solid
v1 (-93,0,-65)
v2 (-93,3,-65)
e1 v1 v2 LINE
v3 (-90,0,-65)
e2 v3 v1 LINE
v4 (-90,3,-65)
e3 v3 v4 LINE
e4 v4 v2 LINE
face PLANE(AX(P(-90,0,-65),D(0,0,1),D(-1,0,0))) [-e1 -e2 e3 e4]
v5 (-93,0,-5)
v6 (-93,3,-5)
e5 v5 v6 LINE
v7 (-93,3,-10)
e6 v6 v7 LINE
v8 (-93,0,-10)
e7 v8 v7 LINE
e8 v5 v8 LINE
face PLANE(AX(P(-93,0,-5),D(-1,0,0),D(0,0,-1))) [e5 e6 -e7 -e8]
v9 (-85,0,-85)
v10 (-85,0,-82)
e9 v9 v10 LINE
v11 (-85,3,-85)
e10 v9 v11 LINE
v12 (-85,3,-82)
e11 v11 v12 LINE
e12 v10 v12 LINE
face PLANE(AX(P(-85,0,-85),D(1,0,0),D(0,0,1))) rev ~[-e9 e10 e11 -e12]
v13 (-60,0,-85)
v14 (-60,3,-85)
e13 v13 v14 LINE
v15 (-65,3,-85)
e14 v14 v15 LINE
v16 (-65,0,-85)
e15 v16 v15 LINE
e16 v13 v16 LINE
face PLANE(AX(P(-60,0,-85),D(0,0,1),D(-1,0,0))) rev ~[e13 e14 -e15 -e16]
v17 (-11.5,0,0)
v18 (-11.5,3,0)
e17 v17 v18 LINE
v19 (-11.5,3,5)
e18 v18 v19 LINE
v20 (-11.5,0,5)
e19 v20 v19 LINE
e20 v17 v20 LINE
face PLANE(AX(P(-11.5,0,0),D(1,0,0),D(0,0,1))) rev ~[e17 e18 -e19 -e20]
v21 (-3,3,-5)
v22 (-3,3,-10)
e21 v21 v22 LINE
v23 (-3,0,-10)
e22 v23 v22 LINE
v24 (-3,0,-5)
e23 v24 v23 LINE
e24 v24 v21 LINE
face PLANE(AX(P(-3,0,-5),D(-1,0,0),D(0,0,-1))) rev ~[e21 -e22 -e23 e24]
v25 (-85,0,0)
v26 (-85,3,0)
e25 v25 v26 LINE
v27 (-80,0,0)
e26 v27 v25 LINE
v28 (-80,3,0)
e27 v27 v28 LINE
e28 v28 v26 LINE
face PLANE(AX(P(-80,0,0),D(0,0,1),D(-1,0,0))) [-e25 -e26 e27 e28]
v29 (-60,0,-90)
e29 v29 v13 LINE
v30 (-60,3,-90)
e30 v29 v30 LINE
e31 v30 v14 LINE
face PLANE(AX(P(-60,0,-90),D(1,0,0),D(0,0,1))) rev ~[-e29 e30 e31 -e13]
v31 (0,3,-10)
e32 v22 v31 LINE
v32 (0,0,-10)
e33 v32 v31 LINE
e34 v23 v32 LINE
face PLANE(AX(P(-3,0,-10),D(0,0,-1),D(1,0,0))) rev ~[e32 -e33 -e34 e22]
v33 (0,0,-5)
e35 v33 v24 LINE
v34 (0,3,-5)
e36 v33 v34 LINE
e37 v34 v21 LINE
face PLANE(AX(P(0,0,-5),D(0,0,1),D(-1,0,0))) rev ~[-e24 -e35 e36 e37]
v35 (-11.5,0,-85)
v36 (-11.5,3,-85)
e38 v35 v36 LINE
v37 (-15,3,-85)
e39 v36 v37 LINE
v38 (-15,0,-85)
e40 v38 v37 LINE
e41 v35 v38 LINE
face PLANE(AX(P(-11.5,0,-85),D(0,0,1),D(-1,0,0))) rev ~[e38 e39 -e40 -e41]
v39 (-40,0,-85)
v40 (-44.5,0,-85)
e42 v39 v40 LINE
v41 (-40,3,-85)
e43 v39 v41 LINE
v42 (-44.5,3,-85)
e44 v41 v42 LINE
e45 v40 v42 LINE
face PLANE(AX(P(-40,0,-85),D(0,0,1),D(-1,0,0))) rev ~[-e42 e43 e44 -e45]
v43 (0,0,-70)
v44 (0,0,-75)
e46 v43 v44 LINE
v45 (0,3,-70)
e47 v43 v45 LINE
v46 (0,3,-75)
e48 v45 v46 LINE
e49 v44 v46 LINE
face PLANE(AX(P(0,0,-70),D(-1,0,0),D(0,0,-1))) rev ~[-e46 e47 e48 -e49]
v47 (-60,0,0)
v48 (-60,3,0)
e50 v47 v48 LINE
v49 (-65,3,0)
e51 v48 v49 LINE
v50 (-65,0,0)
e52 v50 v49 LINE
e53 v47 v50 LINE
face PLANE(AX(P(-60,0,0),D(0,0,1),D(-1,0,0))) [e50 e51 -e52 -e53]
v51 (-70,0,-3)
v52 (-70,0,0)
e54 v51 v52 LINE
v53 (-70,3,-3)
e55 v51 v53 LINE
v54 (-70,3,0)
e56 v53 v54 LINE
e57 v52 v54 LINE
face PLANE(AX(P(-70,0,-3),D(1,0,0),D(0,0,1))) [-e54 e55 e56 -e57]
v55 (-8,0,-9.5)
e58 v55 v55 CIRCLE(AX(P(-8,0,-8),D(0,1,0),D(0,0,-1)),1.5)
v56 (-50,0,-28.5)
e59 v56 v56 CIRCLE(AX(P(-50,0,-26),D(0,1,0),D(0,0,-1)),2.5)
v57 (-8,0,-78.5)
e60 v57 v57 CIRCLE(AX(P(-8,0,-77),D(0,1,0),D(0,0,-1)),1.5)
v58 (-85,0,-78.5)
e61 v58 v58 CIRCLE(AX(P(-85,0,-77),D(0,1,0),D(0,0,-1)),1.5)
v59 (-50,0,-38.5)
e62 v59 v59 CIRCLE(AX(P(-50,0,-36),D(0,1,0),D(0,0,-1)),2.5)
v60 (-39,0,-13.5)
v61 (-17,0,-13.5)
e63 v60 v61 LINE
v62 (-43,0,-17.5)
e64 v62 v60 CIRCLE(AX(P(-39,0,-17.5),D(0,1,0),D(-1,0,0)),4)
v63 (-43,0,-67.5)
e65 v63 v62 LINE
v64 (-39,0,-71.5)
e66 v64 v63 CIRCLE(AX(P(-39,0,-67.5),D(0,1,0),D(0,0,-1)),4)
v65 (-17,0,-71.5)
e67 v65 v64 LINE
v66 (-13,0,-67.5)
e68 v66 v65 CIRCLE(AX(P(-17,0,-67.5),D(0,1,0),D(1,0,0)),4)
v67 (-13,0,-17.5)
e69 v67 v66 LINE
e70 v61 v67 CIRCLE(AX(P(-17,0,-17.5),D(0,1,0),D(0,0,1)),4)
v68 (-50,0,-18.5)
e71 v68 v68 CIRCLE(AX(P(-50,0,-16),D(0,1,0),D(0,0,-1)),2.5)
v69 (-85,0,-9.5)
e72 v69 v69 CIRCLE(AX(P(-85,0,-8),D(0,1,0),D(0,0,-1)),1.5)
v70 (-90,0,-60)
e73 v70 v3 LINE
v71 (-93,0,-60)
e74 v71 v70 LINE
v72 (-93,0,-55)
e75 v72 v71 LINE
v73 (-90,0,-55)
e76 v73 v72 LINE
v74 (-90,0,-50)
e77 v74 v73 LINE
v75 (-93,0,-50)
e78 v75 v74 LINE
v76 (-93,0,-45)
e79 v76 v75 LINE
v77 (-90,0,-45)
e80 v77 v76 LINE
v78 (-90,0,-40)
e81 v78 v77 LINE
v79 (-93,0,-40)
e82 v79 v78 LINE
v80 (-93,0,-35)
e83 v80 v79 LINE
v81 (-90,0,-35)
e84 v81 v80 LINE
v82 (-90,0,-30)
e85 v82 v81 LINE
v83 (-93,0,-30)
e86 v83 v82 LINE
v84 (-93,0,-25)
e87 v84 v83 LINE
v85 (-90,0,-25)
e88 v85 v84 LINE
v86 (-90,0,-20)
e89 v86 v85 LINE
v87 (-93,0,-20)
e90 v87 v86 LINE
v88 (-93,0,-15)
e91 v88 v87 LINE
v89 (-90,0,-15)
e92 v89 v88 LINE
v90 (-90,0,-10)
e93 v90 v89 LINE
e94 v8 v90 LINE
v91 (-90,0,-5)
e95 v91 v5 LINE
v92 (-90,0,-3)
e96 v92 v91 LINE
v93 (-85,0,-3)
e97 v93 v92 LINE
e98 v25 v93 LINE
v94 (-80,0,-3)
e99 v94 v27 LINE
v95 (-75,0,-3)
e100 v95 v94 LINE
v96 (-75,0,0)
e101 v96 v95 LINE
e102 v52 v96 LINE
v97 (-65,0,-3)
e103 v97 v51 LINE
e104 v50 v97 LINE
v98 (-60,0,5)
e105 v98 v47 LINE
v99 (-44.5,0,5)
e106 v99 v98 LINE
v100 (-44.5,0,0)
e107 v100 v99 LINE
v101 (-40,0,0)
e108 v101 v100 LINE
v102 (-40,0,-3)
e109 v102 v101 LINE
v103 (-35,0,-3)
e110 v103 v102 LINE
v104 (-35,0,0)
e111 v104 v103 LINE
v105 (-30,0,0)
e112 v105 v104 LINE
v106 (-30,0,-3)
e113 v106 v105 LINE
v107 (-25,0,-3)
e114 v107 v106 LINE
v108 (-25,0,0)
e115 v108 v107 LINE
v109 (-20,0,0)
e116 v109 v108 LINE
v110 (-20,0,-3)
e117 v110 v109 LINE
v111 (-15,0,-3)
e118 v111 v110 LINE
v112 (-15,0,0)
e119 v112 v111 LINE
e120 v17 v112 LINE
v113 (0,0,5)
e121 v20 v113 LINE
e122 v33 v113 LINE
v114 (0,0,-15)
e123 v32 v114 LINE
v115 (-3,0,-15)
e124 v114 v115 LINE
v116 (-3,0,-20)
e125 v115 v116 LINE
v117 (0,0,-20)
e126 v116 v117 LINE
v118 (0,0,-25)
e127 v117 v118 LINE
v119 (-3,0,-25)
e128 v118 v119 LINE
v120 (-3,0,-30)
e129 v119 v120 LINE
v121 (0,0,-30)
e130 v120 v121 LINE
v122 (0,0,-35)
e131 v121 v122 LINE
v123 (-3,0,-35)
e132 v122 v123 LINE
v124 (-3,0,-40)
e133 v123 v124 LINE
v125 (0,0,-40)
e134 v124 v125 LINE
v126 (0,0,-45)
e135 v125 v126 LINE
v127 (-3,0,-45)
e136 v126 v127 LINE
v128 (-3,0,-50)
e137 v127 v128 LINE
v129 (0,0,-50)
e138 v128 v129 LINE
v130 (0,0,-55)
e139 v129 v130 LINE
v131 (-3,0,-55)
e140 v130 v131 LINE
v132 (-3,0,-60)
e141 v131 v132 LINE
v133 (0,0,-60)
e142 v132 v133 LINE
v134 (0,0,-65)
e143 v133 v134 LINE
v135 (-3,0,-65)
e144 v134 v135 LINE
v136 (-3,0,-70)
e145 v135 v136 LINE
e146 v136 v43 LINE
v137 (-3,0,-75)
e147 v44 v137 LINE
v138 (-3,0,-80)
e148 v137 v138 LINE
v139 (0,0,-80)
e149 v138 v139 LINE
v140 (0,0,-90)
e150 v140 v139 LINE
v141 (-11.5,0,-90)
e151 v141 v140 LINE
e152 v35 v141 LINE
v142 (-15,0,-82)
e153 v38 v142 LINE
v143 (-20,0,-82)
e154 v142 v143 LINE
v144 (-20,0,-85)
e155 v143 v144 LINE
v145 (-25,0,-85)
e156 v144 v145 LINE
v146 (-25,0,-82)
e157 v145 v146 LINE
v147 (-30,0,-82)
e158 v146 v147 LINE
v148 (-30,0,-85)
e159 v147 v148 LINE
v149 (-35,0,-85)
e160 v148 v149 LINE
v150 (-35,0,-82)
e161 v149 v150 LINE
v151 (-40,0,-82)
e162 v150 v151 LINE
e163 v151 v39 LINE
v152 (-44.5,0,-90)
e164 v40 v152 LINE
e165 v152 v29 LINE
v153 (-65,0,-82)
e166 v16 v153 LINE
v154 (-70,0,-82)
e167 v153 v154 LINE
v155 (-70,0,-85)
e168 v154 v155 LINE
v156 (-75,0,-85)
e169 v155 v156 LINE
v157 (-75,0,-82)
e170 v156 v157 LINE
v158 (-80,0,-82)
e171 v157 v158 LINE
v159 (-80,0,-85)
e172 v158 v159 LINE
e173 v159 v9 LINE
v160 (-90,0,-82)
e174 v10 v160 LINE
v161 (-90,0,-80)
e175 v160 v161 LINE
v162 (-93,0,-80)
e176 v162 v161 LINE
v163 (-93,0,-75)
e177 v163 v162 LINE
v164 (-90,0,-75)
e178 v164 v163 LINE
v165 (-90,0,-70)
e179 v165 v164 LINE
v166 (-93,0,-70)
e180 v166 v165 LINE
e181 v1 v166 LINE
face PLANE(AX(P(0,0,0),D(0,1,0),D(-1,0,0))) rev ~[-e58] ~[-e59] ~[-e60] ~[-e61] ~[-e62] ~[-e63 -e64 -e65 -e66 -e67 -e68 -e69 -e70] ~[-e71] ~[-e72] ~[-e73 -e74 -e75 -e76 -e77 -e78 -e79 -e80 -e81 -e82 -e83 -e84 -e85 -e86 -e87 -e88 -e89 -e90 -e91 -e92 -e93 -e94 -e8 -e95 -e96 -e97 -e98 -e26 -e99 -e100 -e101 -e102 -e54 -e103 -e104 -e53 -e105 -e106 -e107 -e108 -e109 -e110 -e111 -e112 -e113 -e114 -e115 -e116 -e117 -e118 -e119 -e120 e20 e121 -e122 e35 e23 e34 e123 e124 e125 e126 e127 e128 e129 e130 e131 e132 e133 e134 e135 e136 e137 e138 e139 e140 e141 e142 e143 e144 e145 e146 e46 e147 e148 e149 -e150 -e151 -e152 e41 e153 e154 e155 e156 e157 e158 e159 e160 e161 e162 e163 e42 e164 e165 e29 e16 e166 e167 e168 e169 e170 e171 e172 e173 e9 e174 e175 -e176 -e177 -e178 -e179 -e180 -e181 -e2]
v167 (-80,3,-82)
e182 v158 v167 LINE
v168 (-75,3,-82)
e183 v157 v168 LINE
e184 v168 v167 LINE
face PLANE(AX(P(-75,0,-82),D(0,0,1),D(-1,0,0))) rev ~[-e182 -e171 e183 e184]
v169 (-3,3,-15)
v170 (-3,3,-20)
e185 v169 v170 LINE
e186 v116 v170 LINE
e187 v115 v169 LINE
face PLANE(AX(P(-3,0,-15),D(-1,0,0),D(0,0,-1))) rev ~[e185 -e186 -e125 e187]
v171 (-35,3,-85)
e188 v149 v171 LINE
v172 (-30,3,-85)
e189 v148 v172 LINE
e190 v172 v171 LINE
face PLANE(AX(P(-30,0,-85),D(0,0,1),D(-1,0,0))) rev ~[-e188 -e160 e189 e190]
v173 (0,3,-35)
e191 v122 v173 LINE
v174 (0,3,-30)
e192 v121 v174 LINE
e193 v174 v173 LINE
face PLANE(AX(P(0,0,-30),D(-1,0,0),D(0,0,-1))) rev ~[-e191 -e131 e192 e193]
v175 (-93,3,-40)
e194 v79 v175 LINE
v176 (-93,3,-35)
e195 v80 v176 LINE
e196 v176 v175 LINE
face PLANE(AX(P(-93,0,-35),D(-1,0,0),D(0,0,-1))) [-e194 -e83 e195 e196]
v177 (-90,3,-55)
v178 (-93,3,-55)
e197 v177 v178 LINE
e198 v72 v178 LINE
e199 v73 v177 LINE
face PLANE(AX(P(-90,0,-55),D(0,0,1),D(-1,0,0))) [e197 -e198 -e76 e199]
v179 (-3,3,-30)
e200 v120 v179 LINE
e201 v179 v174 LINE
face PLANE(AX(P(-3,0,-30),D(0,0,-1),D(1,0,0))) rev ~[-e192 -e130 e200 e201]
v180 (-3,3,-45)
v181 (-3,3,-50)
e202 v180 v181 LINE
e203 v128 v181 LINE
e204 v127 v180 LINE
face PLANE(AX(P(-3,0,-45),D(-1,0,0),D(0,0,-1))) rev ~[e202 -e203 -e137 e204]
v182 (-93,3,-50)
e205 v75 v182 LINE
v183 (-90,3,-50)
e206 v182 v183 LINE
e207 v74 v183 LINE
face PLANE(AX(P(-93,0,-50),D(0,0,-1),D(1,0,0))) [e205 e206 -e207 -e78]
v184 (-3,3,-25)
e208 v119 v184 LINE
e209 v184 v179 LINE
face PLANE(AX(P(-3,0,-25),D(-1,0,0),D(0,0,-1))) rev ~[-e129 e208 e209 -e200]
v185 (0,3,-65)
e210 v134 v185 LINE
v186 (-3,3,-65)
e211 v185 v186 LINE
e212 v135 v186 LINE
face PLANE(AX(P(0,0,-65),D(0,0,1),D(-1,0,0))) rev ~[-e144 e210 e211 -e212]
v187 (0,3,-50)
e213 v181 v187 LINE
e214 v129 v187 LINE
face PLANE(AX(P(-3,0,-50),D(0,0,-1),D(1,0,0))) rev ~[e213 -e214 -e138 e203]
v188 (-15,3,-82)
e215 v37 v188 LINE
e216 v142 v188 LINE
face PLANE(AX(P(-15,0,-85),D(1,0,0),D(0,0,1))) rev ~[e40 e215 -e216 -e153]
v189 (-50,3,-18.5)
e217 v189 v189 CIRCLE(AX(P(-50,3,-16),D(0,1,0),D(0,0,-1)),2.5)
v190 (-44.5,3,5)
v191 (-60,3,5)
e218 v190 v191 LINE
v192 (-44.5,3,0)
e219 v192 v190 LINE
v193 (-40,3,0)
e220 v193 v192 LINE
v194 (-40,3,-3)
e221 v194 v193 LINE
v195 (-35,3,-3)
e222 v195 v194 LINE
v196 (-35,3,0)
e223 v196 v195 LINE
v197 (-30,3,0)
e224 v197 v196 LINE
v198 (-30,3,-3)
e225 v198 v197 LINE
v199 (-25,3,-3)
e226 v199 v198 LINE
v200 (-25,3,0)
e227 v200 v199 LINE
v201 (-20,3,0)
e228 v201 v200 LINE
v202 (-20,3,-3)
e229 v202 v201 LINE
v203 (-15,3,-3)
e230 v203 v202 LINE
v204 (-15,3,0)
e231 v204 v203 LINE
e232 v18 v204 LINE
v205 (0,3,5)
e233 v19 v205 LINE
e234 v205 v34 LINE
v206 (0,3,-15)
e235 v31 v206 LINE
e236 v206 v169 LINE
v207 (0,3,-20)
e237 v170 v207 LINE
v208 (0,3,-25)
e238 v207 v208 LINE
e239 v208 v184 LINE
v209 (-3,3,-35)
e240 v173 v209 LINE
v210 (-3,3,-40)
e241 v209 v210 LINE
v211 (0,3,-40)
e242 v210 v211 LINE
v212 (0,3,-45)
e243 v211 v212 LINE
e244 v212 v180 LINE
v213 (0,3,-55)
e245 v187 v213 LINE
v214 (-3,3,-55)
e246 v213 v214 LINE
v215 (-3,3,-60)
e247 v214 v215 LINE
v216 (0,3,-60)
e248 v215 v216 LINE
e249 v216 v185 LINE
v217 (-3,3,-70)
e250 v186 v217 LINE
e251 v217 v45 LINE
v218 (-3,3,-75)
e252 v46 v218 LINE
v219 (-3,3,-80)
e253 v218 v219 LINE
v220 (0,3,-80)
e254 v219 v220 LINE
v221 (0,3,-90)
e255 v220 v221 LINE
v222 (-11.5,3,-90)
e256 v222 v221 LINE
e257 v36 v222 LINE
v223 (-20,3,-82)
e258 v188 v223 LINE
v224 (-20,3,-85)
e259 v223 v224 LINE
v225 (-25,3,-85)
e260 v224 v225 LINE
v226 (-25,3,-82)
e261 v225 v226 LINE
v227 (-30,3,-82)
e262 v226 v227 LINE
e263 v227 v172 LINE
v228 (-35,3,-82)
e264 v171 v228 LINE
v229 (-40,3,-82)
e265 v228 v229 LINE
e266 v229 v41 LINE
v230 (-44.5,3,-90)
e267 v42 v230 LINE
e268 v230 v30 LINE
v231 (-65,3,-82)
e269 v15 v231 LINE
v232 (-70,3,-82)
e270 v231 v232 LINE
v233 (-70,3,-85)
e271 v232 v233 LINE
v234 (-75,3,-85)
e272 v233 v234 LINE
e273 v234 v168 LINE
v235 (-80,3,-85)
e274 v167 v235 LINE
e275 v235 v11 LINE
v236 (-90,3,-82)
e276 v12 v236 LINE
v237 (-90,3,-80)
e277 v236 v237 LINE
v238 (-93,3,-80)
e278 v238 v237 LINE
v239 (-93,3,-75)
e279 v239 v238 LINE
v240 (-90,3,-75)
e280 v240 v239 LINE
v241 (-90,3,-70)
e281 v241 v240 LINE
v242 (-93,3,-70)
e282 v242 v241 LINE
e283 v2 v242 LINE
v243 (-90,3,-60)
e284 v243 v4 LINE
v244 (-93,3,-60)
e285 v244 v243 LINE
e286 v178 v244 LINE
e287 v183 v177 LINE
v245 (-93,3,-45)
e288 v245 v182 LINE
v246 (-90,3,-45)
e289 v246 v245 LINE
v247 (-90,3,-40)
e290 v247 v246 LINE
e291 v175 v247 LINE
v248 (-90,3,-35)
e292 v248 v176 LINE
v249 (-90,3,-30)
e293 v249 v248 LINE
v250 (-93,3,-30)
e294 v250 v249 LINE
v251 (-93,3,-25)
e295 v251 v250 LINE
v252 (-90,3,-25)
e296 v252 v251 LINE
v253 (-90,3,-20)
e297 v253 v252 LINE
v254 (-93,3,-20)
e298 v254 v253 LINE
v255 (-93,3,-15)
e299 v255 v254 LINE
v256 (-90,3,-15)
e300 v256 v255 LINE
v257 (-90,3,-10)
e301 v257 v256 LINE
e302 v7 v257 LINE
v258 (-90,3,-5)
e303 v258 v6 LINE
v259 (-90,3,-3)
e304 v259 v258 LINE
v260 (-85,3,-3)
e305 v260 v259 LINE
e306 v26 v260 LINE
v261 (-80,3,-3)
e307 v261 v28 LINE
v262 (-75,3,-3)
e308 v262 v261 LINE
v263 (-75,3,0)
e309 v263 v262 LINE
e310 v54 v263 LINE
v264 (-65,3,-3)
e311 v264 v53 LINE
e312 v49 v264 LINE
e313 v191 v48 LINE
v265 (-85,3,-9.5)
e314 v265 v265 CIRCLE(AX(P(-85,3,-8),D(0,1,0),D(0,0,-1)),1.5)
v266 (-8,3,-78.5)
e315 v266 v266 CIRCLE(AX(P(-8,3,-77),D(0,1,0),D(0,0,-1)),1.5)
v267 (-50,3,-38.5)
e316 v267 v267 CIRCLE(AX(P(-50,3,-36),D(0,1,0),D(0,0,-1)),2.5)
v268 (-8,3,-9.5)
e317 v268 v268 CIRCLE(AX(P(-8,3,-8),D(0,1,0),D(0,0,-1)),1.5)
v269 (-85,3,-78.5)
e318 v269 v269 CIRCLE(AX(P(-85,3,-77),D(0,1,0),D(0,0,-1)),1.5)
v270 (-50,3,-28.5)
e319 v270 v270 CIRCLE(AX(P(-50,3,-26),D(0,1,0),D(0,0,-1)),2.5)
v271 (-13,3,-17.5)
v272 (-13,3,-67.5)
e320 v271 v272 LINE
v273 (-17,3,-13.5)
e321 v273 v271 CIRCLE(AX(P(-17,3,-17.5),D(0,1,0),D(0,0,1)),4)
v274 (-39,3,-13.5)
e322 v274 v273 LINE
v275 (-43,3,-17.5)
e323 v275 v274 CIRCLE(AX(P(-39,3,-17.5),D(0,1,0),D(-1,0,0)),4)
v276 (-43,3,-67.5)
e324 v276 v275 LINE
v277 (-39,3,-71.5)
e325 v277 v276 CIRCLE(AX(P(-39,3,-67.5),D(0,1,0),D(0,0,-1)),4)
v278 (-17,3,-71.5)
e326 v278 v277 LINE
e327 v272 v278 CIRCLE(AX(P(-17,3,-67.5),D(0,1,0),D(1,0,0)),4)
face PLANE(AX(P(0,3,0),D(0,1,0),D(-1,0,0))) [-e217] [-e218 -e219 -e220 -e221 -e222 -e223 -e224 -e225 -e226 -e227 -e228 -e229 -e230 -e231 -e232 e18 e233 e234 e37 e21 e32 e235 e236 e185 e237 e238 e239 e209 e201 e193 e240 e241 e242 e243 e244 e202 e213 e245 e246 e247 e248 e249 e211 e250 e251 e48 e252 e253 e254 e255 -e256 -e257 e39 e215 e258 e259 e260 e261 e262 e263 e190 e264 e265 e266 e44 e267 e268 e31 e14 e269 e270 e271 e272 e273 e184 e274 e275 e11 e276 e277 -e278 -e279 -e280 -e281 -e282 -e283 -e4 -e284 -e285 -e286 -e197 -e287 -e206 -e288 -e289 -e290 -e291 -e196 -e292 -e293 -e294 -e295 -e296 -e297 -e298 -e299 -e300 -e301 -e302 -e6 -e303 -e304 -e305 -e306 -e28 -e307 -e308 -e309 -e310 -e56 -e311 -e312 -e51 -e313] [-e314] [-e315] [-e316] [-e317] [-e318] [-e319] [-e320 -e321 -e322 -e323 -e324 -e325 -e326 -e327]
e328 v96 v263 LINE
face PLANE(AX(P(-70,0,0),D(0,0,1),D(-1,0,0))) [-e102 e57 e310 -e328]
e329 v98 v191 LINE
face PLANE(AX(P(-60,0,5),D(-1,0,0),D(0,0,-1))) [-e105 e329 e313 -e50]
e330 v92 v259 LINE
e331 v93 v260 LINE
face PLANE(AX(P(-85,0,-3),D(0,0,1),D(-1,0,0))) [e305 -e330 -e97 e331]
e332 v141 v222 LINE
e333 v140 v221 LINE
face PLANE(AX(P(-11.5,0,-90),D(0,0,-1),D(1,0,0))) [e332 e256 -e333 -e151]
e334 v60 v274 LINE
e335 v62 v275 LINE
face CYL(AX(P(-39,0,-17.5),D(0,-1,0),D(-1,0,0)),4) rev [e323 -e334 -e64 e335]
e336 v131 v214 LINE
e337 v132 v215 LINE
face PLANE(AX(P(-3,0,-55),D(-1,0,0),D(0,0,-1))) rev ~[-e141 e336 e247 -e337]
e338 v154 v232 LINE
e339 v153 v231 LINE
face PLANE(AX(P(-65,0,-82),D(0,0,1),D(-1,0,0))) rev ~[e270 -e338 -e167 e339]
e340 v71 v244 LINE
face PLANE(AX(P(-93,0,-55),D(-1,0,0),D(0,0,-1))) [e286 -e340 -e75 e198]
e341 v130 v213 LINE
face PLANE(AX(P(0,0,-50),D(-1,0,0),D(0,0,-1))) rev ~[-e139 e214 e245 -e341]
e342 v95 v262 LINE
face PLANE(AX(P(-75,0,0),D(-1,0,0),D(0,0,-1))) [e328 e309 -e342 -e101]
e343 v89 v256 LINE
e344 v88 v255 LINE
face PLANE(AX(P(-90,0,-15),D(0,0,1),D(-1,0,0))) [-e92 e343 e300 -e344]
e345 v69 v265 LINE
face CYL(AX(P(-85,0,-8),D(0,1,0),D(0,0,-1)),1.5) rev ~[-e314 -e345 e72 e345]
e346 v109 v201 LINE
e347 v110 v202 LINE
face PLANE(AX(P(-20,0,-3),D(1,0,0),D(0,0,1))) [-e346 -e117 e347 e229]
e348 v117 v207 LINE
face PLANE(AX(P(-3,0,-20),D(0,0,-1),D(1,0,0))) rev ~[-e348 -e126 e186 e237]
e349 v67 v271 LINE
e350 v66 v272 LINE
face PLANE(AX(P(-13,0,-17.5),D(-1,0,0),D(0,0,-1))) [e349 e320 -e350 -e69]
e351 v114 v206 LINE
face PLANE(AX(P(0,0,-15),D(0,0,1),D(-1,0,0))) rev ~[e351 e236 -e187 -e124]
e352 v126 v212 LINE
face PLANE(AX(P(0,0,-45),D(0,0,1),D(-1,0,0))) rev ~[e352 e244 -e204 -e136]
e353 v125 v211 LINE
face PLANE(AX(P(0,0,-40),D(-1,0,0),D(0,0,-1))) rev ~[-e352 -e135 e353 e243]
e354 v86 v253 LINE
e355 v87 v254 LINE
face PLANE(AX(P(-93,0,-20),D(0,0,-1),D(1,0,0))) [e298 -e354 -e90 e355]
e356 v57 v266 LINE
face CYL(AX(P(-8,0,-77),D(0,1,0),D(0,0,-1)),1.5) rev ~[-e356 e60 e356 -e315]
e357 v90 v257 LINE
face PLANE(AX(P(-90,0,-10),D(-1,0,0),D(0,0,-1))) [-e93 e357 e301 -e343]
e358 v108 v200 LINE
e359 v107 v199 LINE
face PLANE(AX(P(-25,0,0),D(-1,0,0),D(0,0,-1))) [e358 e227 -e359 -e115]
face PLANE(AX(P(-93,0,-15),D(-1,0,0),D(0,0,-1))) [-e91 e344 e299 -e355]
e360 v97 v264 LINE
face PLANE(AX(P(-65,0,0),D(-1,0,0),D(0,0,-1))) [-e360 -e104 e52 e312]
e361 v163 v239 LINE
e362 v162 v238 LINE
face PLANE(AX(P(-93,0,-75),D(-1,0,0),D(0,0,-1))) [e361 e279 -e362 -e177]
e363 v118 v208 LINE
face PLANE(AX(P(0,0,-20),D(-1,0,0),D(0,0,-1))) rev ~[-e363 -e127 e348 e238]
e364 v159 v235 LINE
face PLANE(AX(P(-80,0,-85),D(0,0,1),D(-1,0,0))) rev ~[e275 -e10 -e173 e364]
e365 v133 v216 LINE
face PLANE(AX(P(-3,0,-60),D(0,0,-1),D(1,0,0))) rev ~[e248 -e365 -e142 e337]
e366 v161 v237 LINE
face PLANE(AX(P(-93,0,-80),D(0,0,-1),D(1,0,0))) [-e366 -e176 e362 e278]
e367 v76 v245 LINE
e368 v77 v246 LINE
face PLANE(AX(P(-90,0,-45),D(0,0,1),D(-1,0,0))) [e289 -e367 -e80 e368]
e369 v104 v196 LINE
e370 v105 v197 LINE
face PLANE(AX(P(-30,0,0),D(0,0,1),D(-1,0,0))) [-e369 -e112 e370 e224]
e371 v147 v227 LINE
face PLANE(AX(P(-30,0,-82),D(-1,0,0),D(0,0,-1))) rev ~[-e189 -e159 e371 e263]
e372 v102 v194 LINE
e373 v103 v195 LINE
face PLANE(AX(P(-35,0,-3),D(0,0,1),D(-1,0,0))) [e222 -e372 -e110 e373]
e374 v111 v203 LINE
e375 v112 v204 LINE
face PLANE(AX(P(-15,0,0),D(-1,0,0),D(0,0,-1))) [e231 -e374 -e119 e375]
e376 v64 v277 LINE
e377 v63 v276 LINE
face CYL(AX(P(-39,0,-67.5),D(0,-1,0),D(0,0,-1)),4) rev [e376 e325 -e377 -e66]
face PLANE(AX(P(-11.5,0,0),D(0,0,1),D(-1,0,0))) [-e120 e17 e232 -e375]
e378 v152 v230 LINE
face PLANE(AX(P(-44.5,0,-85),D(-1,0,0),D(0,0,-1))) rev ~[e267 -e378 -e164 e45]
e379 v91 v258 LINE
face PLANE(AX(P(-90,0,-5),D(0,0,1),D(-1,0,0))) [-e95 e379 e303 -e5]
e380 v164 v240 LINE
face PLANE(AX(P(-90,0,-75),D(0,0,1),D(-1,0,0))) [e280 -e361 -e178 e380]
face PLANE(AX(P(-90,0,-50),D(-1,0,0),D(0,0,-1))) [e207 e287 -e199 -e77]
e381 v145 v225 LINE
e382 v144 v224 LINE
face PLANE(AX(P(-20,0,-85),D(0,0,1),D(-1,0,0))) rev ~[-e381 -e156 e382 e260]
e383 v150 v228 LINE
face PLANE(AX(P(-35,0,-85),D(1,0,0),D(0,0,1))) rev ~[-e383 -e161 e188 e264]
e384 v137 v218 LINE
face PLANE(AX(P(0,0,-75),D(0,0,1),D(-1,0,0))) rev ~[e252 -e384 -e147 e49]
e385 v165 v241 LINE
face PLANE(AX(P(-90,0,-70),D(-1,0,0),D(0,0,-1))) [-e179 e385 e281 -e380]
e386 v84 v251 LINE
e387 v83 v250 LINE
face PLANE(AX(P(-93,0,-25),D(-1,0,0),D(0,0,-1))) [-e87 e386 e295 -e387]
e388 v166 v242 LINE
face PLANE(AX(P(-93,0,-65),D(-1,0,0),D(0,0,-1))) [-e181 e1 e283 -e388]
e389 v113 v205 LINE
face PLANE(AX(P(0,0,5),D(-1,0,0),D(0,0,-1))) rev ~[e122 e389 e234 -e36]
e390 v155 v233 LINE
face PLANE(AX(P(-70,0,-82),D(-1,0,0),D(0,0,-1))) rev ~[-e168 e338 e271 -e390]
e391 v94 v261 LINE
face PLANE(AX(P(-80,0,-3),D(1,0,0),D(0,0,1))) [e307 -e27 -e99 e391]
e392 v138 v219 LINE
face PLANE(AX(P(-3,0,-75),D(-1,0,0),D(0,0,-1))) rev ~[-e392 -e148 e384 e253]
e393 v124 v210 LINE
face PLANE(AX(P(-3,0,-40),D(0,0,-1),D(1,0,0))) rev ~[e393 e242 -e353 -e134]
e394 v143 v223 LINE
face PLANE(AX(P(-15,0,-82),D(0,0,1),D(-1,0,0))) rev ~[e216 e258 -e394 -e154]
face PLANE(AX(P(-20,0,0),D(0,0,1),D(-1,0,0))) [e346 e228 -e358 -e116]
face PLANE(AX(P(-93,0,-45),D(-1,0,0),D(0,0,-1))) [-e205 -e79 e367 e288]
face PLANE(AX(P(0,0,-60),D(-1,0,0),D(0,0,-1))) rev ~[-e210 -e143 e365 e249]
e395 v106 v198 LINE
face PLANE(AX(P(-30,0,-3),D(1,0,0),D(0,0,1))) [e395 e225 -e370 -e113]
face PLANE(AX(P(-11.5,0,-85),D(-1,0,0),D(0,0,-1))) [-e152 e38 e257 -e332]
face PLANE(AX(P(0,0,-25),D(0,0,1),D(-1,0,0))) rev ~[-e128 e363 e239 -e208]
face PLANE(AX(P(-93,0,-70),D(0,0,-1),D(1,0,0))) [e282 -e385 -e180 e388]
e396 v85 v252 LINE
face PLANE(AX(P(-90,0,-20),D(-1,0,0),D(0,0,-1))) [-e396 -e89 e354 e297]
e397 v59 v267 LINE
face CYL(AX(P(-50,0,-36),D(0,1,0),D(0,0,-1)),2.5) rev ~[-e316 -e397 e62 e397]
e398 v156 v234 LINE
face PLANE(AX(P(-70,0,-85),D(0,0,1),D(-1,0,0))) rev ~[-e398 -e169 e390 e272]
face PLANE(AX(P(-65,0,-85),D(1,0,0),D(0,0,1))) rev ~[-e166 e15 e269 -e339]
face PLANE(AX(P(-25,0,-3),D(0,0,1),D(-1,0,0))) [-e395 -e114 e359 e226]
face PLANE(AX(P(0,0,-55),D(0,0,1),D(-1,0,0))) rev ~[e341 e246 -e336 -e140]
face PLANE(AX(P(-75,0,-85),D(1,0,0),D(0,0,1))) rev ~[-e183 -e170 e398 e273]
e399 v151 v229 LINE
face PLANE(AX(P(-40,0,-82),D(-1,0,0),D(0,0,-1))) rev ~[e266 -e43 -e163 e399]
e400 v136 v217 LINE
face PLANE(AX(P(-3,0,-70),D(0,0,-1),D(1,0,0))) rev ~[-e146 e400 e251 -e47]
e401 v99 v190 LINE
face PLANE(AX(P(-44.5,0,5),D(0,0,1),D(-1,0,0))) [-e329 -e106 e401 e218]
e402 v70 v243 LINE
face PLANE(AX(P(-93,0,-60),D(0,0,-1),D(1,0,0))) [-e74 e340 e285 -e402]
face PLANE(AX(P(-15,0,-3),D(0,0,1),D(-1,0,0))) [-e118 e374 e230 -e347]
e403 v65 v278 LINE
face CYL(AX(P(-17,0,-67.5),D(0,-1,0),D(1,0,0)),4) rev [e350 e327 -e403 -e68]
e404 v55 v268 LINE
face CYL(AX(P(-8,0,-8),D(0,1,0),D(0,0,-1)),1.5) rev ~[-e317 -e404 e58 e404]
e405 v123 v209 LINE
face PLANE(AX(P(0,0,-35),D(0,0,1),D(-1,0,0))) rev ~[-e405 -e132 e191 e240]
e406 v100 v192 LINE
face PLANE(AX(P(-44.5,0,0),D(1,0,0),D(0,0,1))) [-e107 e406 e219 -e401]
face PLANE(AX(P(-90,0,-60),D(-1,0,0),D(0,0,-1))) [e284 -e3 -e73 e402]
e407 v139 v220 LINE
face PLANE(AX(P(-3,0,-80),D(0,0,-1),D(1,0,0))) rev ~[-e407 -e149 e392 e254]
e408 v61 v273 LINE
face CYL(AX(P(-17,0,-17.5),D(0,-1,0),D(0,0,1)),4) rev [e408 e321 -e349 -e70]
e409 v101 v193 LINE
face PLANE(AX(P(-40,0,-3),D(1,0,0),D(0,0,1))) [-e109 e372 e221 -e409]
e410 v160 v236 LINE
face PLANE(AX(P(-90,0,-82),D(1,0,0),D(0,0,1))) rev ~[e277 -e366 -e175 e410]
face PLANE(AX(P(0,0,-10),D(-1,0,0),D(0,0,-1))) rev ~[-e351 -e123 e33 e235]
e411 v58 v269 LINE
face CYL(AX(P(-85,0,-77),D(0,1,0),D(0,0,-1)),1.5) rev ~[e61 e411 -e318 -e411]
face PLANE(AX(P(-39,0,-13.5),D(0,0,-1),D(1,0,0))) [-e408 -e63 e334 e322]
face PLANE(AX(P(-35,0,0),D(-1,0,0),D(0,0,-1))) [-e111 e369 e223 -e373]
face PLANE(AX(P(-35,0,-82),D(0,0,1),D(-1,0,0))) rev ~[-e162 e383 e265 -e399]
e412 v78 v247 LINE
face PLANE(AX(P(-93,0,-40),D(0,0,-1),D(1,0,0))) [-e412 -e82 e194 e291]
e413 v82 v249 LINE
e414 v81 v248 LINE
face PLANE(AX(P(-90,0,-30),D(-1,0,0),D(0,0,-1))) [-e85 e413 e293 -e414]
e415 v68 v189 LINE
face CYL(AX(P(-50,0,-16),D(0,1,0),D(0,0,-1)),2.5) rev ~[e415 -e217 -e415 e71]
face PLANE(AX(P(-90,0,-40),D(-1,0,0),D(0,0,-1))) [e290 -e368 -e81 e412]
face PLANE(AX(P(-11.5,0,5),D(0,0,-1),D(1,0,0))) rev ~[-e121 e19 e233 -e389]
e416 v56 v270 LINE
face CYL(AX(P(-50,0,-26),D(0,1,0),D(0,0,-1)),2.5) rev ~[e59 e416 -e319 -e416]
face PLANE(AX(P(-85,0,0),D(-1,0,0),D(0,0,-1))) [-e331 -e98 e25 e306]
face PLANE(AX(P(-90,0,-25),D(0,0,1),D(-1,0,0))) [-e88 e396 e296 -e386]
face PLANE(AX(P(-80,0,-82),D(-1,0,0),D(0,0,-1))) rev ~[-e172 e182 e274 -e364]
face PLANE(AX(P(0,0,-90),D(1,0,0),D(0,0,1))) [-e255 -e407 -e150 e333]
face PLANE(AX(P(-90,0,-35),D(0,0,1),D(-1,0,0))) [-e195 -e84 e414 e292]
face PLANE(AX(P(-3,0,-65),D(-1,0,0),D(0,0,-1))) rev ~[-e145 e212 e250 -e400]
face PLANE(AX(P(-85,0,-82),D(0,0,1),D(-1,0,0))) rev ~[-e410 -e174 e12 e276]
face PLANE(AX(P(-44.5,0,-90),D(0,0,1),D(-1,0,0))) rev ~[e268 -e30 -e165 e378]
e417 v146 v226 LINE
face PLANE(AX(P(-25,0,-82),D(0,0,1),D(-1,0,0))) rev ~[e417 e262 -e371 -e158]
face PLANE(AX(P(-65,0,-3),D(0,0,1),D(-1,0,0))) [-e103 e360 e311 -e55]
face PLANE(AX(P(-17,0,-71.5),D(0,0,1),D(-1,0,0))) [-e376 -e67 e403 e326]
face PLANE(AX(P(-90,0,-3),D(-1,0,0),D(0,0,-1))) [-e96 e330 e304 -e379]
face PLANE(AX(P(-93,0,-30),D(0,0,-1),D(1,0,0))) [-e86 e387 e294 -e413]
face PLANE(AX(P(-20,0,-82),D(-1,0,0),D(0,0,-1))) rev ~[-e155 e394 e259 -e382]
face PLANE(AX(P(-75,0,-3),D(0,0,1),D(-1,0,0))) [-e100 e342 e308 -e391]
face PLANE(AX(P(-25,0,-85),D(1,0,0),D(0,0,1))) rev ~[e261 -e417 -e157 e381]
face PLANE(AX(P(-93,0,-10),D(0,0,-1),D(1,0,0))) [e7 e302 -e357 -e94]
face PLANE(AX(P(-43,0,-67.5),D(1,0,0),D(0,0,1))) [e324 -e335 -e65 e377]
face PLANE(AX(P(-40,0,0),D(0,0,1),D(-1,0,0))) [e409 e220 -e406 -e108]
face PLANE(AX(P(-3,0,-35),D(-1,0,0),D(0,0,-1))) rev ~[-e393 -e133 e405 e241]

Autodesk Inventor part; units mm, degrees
ref_plane "YZ Plane" through (0, 0, 0) normal (1, 0, 0) x (0, 1, 0)
ref_plane "XZ Plane" through (0, 0, 0) normal (0, 1, 0) x (-1, 0, 0)
ref_plane "XY Plane" through (0, 0, 0) normal (0, 0, 1) x (1, 0, 0)
sketch "Sketch1" plane through (0, 0, 0) normal (0, 1, 0) x (-1, 0, 0)
  line L0 (46, -10.5) -> (10, -10.5)
  line L1 (10, -10.5) -> (10, -74.5)
  line L2 (10, -74.5) -> (46, -74.5)
  line L3 (46, -74.5) -> (46, -10.5)
  line L4 (39, -13.5) -> (17, -13.5)
  line L5 (13, -17.5) -> (13, -67.5)
  line L6 (17, -71.5) -> (39, -71.5)
  line L7 (43, -67.5) -> (43, -17.5)
  line L8 (-0.7624, -103.1576) -> (89.2376, -103.1576) construction
  line L9 (117.4263, -3.5737) -> (117.4263, -83.5737) construction
  line L10 (0, 0) -> (0, -5)
  line L11 (0, -5) -> (3, -5)
  line L12 (3, -5) -> (3, -10)
  line L13 (3, -10) -> (0, -10)
  line L14 (0, -10) -> (0, -15)
  line L15 (0, -15) -> (3, -15)
  line L16 (3, -15) -> (3, -20)
  line L17 (3, -20) -> (0, -20)
  line L18 (0, -20) -> (0, -25)
  line L19 (0, -25) -> (3, -25)
  line L20 (3, -25) -> (3, -30)
  line L21 (3, -30) -> (0, -30)
  line L22 (0, -30) -> (0, -35)
  line L23 (0, -35) -> (3, -35)
  line L24 (3, -35) -> (3, -40)
  line L25 (3, -40) -> (0, -40)
  line L26 (0, -40) -> (0, -45)
  line L27 (0, -45) -> (3, -45)
  line L28 (3, -45) -> (3, -50)
  line L29 (3, -50) -> (0, -50)
  line L30 (0, -50) -> (0, -55)
  line L31 (0, -55) -> (3, -55)
  line L32 (3, -55) -> (3, -60)
  line L33 (3, -60) -> (0, -60)
  line L34 (0, -60) -> (0, -65)
  line L35 (0, -65) -> (3, -65)
  line L36 (3, -65) -> (3, -70)
  line L37 (3, -70) -> (0, -70)
  line L38 (0, -70) -> (0, -75)
  line L39 (0, -75) -> (3, -75)
  line L40 (3, -75) -> (3, -80)
  line L41 (11.5, 0) -> (15, 0)
  line L42 (15, 0) -> (15, -3)
  line L43 (15, -3) -> (20, -3)
  line L44 (20, -3) -> (20, 0)
  line L45 (20, 0) -> (25, 0)
  line L46 (25, -3) -> (30, -3)
  line L47 (30, 0) -> (35, 0)
  line L48 (30, -3) -> (30, 0)
  line L49 (25, 0) -> (25, -3)
  line L50 (35, -3) -> (40, -3)
  line L51 (40, 0) -> (44.5, 0)
  line L52 (40, -3) -> (40, 0)
  line L53 (35, 0) -> (35, -3)
  line L54 (60, 0) -> (65, 0)
  line L55 (65, -3) -> (70, -3)
  line L56 (70, 0) -> (75, 0)
  line L57 (70, -3) -> (70, 0)
  line L58 (65, 0) -> (65, -3)
  line L59 (75, -3) -> (80, -3)
  line L60 (80, 0) -> (85, 0)
  line L61 (80, -3) -> (80, 0)
  line L62 (75, 0) -> (75, -3)
  line L63 (90, -3) -> (90, -5)
  line L64 (90, -5) -> (93, -5)
  line L65 (90, -15) -> (93, -15)
  line L66 (93, -5) -> (93, -10)
  line L67 (93, -10) -> (90, -10)
  line L68 (90, -10) -> (90, -15)
  line L69 (90, -25) -> (93, -25)
  line L70 (93, -15) -> (93, -20)
  line L71 (93, -20) -> (90, -20)
  line L72 (90, -20) -> (90, -25)
  line L73 (90, -35) -> (93, -35)
  line L74 (93, -25) -> (93, -30)
  line L75 (93, -30) -> (90, -30)
  line L76 (90, -30) -> (90, -35)
  line L77 (90, -45) -> (93, -45)
  line L78 (93, -35) -> (93, -40)
  line L79 (93, -40) -> (90, -40)
  line L80 (90, -40) -> (90, -45)
  line L81 (90, -55) -> (93, -55)
  line L82 (93, -45) -> (93, -50)
  line L83 (93, -50) -> (90, -50)
  line L84 (90, -50) -> (90, -55)
  line L85 (93, -55) -> (93, -60)
  line L86 (93, -60) -> (90, -60)
  line L87 (90, -60) -> (90, -65)
  line L88 (3, -80) -> (0, -80)
  line L89 (0, -80) -> (0, -85)
  line L90 (11.5, -85) -> (15, -85)
  line L91 (15, -85) -> (15, -82)
  line L92 (15, -82) -> (20, -82)
  line L93 (20, -82) -> (20, -85)
  line L94 (20, -85) -> (25, -85)
  line L95 (25, -82) -> (30, -82)
  line L96 (30, -85) -> (35, -85)
  line L97 (30, -82) -> (30, -85)
  line L98 (25, -85) -> (25, -82)
  line L99 (35, -82) -> (40, -82)
  line L100 (40, -85) -> (44.5, -85)
  line L101 (40, -82) -> (40, -85)
  line L102 (35, -85) -> (35, -82)
  line L103 (60, -85) -> (65, -85)
  line L104 (65, -82) -> (70, -82)
  line L105 (70, -85) -> (75, -85)
  line L106 (70, -82) -> (70, -85)
  line L107 (65, -85) -> (65, -82)
  line L108 (75, -82) -> (80, -82)
  line L109 (80, -85) -> (85, -85)
  line L110 (80, -82) -> (80, -85)
  line L111 (75, -85) -> (75, -82)
  line L112 (90, -65) -> (93, -65)
  line L113 (93, -65) -> (93, -70)
  line L114 (93, -70) -> (90, -70)
  line L115 (90, -70) -> (90, -75)
  line L116 (90, -75) -> (93, -75)
  line L117 (93, -75) -> (93, -80)
  line L118 (93, -80) -> (90, -80)
  line L119 (-8, -42.5) -> (-32, -42.5) construction
  line L120 (85, -85) -> (85, -82)
  line L121 (85, -82) -> (90, -82)
  line L122 (85, 0) -> (85, -3)
  line L123 (85, -3) -> (90, -3)
  line L124 (90, -82) -> (90, -80)
  line L125 (50, -42.5) -> (84, -42.5) construction
  circle A0 centre (50, -36) radius 3 construction
  line L126 (81, -48) -> (46, -48) construction
  line L127 (72.771, -46.18) -> (54.229, -46.18) construction
  circle A1 centre (50, -36) radius 2.5 construction
  line L128 (67.5, -8) -> (59.5, -8) construction
  line L129 (67.5, -3) -> (67.5, -8) construction
  line L130 (59.5, -8) -> (59.5, -3) construction
  circle A2 centre (50, -26) radius 2.5 construction
  circle A3 centre (50, -26) radius 3 construction
  line L131 (63.5, 13.6319) -> (63.5, -36.0508) construction
  line L132 (46, -48) -> (46, -3) construction
  line L133 (81, -3) -> (81, -48) construction
  line L134 (54.229, -46.18) -> (54.229, -3) construction
  line L135 (72.771, -3) -> (72.771, -46.18) construction
  circle A4 centre (50, -16) radius 2.5 construction
  circle A5 centre (50, -16) radius 3 construction
  line L136 (46, -3) -> (81, -3) construction
  line L137 (54.229, -3) -> (72.771, -3) construction
  line L138 (59.5, -3) -> (67.5, -3) construction
  arc A6 (17, -13.5) -> (13, -17.5) centre (17, -17.5) ccw
  arc A7 (13, -67.5) -> (17, -71.5) centre (17, -67.5) ccw
  arc A8 (43, -17.5) -> (39, -13.5) centre (39, -17.5) ccw
  arc A9 (39, -71.5) -> (43, -67.5) centre (39, -67.5) ccw
  line L139 (44.5, 6) -> (44.5, -102) construction
  line L140 (44.5, -85) -> (44.5, -90) construction
  line L141 (44.5, -85) -> (44.5, -90)
  line L142 (44.5, -90) -> (60, -90)
  line L143 (60, -90) -> (60, -85)
  line L144 (44.5, 0) -> (44.5, 5)
  line L145 (60, 5) -> (60, 0)
  line L146 (44.5, 5) -> (60, 5)
  line L147 (11.5, -6) -> (11.5, -76.5659) construction
  line L148 (11.5, -85) -> (11.5, -90)
  line L149 (11.5, -90) -> (0, -90)
  line L150 (0, -90) -> (0, -85)
  line L151 (11.5, 0) -> (11.5, 5)
  line L152 (11.5, 5) -> (0, 5)
  line L153 (0, 5) -> (0, 0)
  point P0 (85, -77)
  point P1 (85, -8)
  point P2 (8, -8)
  point P3 (8, -77)
  dimension "d0" = 36
  dimension "d1" = 64
  dimension "d15" = 3
  dimension "d17" = 3
  dimension "d18" = 3
  dimension "d19" = 15
  dimension "d20" = 5
  dimension "d21" = 3
  dimension "d22" = 5
  dimension "d23" = 3
  dimension "d24" = 3
  dimension "d25" = 5
  dimension "d26" = 15
  dimension "d27" = 7
  dimension "d28" = 5
  dimension "d35" = 3
  dimension "d36" = 3
  dimension "d37" = 5
  dimension "d38" = 5
  dimension "d39" = 85
  dimension "d40" = 5
  dimension "d41" = 5
  dimension "d42" = 5
  dimension "d43" = 5
  dimension "d101" = 10
  dimension "d102" = 10
  dimension "d103" = 4
  dimension "d104" = 12
  dimension "d105" = 18.542
  dimension "d106" = 35
  dimension "d107" = 45
  dimension "d108" = 8
  dimension "d109" = 5
  dimension "d110" = 43.18
  dimension "d118" = 8
  dimension "d120" = 5
  dimension "d121" = 5
  dimension "d122" = 15.5
  dimension "d124" = 1.5
  dimension "d125" = 1.5
  dimension "d126" = 5
  dimension "d127" = 11.5
  dimension "d128" = 5
  dimension "d129" = 3.5
  dimension "d130" = 3.5
  dimension "d131" = 5
  dimension "d132" = 10.5
  dimension "d133" = 10.5
  dimension "d134" = 93
extrude "Extrusion1" add sketch "Sketch1" along normal blind 3 contours L3 L2 L1 L0 | L153 L152 L151 L41 L42 L43 L44 L45 L49 L46 L48 L47 L53 L50 L52 L51 L144 L146 L145 L54 L58 L55 L57 L56 L62 L59 L61 L60 L122 L123 L63 L64 L66 L67 L68 L65 L70 L71 L72 L69 L74 L75 L76 L73 L78 L79 L80 L77 L82 L83 L84 L81 L85 L86 L87 L112 L113 L114 L115 L116 L117 L118 L124 L121 L120 L109 L110 L108 L111 L105 L106 L104 L107 L103 L143 L142 L141 L100 L101 L99 L102 L96 L97 L95 L98 L94 L93 L92 L91 L90 L148 L149 L150 L89 L88 L40 L39 L38 L37 L36 L35 L34 L33 L32 L31 L30 L29 L28 L27 L26 L25 L24 L23 L22 L21 L20 L19 L18 L17 L16 L15 L14 L13 L12 L11 L10
hole "Hole1" at (-85, 0, -77) at (-85, 0, -8) at (-8, 0, -8) at (-8, 0, -77) direction (0, 1, 0) diameter 3 end through all
hole "Hole2" at (-50, 0, -36) at (-50, 0, -26) at (-50, 0, -16) direction (0, 1, 0) diameter 5 end through all
equation "\"d21\" = x"
equation "\"d23\" = x"
equation "\"d24\" = x"
equation "\"d36\" = x"
equation "\"x\" = 3"
properties part number "Top_plate" material "Wood (Birch)"
